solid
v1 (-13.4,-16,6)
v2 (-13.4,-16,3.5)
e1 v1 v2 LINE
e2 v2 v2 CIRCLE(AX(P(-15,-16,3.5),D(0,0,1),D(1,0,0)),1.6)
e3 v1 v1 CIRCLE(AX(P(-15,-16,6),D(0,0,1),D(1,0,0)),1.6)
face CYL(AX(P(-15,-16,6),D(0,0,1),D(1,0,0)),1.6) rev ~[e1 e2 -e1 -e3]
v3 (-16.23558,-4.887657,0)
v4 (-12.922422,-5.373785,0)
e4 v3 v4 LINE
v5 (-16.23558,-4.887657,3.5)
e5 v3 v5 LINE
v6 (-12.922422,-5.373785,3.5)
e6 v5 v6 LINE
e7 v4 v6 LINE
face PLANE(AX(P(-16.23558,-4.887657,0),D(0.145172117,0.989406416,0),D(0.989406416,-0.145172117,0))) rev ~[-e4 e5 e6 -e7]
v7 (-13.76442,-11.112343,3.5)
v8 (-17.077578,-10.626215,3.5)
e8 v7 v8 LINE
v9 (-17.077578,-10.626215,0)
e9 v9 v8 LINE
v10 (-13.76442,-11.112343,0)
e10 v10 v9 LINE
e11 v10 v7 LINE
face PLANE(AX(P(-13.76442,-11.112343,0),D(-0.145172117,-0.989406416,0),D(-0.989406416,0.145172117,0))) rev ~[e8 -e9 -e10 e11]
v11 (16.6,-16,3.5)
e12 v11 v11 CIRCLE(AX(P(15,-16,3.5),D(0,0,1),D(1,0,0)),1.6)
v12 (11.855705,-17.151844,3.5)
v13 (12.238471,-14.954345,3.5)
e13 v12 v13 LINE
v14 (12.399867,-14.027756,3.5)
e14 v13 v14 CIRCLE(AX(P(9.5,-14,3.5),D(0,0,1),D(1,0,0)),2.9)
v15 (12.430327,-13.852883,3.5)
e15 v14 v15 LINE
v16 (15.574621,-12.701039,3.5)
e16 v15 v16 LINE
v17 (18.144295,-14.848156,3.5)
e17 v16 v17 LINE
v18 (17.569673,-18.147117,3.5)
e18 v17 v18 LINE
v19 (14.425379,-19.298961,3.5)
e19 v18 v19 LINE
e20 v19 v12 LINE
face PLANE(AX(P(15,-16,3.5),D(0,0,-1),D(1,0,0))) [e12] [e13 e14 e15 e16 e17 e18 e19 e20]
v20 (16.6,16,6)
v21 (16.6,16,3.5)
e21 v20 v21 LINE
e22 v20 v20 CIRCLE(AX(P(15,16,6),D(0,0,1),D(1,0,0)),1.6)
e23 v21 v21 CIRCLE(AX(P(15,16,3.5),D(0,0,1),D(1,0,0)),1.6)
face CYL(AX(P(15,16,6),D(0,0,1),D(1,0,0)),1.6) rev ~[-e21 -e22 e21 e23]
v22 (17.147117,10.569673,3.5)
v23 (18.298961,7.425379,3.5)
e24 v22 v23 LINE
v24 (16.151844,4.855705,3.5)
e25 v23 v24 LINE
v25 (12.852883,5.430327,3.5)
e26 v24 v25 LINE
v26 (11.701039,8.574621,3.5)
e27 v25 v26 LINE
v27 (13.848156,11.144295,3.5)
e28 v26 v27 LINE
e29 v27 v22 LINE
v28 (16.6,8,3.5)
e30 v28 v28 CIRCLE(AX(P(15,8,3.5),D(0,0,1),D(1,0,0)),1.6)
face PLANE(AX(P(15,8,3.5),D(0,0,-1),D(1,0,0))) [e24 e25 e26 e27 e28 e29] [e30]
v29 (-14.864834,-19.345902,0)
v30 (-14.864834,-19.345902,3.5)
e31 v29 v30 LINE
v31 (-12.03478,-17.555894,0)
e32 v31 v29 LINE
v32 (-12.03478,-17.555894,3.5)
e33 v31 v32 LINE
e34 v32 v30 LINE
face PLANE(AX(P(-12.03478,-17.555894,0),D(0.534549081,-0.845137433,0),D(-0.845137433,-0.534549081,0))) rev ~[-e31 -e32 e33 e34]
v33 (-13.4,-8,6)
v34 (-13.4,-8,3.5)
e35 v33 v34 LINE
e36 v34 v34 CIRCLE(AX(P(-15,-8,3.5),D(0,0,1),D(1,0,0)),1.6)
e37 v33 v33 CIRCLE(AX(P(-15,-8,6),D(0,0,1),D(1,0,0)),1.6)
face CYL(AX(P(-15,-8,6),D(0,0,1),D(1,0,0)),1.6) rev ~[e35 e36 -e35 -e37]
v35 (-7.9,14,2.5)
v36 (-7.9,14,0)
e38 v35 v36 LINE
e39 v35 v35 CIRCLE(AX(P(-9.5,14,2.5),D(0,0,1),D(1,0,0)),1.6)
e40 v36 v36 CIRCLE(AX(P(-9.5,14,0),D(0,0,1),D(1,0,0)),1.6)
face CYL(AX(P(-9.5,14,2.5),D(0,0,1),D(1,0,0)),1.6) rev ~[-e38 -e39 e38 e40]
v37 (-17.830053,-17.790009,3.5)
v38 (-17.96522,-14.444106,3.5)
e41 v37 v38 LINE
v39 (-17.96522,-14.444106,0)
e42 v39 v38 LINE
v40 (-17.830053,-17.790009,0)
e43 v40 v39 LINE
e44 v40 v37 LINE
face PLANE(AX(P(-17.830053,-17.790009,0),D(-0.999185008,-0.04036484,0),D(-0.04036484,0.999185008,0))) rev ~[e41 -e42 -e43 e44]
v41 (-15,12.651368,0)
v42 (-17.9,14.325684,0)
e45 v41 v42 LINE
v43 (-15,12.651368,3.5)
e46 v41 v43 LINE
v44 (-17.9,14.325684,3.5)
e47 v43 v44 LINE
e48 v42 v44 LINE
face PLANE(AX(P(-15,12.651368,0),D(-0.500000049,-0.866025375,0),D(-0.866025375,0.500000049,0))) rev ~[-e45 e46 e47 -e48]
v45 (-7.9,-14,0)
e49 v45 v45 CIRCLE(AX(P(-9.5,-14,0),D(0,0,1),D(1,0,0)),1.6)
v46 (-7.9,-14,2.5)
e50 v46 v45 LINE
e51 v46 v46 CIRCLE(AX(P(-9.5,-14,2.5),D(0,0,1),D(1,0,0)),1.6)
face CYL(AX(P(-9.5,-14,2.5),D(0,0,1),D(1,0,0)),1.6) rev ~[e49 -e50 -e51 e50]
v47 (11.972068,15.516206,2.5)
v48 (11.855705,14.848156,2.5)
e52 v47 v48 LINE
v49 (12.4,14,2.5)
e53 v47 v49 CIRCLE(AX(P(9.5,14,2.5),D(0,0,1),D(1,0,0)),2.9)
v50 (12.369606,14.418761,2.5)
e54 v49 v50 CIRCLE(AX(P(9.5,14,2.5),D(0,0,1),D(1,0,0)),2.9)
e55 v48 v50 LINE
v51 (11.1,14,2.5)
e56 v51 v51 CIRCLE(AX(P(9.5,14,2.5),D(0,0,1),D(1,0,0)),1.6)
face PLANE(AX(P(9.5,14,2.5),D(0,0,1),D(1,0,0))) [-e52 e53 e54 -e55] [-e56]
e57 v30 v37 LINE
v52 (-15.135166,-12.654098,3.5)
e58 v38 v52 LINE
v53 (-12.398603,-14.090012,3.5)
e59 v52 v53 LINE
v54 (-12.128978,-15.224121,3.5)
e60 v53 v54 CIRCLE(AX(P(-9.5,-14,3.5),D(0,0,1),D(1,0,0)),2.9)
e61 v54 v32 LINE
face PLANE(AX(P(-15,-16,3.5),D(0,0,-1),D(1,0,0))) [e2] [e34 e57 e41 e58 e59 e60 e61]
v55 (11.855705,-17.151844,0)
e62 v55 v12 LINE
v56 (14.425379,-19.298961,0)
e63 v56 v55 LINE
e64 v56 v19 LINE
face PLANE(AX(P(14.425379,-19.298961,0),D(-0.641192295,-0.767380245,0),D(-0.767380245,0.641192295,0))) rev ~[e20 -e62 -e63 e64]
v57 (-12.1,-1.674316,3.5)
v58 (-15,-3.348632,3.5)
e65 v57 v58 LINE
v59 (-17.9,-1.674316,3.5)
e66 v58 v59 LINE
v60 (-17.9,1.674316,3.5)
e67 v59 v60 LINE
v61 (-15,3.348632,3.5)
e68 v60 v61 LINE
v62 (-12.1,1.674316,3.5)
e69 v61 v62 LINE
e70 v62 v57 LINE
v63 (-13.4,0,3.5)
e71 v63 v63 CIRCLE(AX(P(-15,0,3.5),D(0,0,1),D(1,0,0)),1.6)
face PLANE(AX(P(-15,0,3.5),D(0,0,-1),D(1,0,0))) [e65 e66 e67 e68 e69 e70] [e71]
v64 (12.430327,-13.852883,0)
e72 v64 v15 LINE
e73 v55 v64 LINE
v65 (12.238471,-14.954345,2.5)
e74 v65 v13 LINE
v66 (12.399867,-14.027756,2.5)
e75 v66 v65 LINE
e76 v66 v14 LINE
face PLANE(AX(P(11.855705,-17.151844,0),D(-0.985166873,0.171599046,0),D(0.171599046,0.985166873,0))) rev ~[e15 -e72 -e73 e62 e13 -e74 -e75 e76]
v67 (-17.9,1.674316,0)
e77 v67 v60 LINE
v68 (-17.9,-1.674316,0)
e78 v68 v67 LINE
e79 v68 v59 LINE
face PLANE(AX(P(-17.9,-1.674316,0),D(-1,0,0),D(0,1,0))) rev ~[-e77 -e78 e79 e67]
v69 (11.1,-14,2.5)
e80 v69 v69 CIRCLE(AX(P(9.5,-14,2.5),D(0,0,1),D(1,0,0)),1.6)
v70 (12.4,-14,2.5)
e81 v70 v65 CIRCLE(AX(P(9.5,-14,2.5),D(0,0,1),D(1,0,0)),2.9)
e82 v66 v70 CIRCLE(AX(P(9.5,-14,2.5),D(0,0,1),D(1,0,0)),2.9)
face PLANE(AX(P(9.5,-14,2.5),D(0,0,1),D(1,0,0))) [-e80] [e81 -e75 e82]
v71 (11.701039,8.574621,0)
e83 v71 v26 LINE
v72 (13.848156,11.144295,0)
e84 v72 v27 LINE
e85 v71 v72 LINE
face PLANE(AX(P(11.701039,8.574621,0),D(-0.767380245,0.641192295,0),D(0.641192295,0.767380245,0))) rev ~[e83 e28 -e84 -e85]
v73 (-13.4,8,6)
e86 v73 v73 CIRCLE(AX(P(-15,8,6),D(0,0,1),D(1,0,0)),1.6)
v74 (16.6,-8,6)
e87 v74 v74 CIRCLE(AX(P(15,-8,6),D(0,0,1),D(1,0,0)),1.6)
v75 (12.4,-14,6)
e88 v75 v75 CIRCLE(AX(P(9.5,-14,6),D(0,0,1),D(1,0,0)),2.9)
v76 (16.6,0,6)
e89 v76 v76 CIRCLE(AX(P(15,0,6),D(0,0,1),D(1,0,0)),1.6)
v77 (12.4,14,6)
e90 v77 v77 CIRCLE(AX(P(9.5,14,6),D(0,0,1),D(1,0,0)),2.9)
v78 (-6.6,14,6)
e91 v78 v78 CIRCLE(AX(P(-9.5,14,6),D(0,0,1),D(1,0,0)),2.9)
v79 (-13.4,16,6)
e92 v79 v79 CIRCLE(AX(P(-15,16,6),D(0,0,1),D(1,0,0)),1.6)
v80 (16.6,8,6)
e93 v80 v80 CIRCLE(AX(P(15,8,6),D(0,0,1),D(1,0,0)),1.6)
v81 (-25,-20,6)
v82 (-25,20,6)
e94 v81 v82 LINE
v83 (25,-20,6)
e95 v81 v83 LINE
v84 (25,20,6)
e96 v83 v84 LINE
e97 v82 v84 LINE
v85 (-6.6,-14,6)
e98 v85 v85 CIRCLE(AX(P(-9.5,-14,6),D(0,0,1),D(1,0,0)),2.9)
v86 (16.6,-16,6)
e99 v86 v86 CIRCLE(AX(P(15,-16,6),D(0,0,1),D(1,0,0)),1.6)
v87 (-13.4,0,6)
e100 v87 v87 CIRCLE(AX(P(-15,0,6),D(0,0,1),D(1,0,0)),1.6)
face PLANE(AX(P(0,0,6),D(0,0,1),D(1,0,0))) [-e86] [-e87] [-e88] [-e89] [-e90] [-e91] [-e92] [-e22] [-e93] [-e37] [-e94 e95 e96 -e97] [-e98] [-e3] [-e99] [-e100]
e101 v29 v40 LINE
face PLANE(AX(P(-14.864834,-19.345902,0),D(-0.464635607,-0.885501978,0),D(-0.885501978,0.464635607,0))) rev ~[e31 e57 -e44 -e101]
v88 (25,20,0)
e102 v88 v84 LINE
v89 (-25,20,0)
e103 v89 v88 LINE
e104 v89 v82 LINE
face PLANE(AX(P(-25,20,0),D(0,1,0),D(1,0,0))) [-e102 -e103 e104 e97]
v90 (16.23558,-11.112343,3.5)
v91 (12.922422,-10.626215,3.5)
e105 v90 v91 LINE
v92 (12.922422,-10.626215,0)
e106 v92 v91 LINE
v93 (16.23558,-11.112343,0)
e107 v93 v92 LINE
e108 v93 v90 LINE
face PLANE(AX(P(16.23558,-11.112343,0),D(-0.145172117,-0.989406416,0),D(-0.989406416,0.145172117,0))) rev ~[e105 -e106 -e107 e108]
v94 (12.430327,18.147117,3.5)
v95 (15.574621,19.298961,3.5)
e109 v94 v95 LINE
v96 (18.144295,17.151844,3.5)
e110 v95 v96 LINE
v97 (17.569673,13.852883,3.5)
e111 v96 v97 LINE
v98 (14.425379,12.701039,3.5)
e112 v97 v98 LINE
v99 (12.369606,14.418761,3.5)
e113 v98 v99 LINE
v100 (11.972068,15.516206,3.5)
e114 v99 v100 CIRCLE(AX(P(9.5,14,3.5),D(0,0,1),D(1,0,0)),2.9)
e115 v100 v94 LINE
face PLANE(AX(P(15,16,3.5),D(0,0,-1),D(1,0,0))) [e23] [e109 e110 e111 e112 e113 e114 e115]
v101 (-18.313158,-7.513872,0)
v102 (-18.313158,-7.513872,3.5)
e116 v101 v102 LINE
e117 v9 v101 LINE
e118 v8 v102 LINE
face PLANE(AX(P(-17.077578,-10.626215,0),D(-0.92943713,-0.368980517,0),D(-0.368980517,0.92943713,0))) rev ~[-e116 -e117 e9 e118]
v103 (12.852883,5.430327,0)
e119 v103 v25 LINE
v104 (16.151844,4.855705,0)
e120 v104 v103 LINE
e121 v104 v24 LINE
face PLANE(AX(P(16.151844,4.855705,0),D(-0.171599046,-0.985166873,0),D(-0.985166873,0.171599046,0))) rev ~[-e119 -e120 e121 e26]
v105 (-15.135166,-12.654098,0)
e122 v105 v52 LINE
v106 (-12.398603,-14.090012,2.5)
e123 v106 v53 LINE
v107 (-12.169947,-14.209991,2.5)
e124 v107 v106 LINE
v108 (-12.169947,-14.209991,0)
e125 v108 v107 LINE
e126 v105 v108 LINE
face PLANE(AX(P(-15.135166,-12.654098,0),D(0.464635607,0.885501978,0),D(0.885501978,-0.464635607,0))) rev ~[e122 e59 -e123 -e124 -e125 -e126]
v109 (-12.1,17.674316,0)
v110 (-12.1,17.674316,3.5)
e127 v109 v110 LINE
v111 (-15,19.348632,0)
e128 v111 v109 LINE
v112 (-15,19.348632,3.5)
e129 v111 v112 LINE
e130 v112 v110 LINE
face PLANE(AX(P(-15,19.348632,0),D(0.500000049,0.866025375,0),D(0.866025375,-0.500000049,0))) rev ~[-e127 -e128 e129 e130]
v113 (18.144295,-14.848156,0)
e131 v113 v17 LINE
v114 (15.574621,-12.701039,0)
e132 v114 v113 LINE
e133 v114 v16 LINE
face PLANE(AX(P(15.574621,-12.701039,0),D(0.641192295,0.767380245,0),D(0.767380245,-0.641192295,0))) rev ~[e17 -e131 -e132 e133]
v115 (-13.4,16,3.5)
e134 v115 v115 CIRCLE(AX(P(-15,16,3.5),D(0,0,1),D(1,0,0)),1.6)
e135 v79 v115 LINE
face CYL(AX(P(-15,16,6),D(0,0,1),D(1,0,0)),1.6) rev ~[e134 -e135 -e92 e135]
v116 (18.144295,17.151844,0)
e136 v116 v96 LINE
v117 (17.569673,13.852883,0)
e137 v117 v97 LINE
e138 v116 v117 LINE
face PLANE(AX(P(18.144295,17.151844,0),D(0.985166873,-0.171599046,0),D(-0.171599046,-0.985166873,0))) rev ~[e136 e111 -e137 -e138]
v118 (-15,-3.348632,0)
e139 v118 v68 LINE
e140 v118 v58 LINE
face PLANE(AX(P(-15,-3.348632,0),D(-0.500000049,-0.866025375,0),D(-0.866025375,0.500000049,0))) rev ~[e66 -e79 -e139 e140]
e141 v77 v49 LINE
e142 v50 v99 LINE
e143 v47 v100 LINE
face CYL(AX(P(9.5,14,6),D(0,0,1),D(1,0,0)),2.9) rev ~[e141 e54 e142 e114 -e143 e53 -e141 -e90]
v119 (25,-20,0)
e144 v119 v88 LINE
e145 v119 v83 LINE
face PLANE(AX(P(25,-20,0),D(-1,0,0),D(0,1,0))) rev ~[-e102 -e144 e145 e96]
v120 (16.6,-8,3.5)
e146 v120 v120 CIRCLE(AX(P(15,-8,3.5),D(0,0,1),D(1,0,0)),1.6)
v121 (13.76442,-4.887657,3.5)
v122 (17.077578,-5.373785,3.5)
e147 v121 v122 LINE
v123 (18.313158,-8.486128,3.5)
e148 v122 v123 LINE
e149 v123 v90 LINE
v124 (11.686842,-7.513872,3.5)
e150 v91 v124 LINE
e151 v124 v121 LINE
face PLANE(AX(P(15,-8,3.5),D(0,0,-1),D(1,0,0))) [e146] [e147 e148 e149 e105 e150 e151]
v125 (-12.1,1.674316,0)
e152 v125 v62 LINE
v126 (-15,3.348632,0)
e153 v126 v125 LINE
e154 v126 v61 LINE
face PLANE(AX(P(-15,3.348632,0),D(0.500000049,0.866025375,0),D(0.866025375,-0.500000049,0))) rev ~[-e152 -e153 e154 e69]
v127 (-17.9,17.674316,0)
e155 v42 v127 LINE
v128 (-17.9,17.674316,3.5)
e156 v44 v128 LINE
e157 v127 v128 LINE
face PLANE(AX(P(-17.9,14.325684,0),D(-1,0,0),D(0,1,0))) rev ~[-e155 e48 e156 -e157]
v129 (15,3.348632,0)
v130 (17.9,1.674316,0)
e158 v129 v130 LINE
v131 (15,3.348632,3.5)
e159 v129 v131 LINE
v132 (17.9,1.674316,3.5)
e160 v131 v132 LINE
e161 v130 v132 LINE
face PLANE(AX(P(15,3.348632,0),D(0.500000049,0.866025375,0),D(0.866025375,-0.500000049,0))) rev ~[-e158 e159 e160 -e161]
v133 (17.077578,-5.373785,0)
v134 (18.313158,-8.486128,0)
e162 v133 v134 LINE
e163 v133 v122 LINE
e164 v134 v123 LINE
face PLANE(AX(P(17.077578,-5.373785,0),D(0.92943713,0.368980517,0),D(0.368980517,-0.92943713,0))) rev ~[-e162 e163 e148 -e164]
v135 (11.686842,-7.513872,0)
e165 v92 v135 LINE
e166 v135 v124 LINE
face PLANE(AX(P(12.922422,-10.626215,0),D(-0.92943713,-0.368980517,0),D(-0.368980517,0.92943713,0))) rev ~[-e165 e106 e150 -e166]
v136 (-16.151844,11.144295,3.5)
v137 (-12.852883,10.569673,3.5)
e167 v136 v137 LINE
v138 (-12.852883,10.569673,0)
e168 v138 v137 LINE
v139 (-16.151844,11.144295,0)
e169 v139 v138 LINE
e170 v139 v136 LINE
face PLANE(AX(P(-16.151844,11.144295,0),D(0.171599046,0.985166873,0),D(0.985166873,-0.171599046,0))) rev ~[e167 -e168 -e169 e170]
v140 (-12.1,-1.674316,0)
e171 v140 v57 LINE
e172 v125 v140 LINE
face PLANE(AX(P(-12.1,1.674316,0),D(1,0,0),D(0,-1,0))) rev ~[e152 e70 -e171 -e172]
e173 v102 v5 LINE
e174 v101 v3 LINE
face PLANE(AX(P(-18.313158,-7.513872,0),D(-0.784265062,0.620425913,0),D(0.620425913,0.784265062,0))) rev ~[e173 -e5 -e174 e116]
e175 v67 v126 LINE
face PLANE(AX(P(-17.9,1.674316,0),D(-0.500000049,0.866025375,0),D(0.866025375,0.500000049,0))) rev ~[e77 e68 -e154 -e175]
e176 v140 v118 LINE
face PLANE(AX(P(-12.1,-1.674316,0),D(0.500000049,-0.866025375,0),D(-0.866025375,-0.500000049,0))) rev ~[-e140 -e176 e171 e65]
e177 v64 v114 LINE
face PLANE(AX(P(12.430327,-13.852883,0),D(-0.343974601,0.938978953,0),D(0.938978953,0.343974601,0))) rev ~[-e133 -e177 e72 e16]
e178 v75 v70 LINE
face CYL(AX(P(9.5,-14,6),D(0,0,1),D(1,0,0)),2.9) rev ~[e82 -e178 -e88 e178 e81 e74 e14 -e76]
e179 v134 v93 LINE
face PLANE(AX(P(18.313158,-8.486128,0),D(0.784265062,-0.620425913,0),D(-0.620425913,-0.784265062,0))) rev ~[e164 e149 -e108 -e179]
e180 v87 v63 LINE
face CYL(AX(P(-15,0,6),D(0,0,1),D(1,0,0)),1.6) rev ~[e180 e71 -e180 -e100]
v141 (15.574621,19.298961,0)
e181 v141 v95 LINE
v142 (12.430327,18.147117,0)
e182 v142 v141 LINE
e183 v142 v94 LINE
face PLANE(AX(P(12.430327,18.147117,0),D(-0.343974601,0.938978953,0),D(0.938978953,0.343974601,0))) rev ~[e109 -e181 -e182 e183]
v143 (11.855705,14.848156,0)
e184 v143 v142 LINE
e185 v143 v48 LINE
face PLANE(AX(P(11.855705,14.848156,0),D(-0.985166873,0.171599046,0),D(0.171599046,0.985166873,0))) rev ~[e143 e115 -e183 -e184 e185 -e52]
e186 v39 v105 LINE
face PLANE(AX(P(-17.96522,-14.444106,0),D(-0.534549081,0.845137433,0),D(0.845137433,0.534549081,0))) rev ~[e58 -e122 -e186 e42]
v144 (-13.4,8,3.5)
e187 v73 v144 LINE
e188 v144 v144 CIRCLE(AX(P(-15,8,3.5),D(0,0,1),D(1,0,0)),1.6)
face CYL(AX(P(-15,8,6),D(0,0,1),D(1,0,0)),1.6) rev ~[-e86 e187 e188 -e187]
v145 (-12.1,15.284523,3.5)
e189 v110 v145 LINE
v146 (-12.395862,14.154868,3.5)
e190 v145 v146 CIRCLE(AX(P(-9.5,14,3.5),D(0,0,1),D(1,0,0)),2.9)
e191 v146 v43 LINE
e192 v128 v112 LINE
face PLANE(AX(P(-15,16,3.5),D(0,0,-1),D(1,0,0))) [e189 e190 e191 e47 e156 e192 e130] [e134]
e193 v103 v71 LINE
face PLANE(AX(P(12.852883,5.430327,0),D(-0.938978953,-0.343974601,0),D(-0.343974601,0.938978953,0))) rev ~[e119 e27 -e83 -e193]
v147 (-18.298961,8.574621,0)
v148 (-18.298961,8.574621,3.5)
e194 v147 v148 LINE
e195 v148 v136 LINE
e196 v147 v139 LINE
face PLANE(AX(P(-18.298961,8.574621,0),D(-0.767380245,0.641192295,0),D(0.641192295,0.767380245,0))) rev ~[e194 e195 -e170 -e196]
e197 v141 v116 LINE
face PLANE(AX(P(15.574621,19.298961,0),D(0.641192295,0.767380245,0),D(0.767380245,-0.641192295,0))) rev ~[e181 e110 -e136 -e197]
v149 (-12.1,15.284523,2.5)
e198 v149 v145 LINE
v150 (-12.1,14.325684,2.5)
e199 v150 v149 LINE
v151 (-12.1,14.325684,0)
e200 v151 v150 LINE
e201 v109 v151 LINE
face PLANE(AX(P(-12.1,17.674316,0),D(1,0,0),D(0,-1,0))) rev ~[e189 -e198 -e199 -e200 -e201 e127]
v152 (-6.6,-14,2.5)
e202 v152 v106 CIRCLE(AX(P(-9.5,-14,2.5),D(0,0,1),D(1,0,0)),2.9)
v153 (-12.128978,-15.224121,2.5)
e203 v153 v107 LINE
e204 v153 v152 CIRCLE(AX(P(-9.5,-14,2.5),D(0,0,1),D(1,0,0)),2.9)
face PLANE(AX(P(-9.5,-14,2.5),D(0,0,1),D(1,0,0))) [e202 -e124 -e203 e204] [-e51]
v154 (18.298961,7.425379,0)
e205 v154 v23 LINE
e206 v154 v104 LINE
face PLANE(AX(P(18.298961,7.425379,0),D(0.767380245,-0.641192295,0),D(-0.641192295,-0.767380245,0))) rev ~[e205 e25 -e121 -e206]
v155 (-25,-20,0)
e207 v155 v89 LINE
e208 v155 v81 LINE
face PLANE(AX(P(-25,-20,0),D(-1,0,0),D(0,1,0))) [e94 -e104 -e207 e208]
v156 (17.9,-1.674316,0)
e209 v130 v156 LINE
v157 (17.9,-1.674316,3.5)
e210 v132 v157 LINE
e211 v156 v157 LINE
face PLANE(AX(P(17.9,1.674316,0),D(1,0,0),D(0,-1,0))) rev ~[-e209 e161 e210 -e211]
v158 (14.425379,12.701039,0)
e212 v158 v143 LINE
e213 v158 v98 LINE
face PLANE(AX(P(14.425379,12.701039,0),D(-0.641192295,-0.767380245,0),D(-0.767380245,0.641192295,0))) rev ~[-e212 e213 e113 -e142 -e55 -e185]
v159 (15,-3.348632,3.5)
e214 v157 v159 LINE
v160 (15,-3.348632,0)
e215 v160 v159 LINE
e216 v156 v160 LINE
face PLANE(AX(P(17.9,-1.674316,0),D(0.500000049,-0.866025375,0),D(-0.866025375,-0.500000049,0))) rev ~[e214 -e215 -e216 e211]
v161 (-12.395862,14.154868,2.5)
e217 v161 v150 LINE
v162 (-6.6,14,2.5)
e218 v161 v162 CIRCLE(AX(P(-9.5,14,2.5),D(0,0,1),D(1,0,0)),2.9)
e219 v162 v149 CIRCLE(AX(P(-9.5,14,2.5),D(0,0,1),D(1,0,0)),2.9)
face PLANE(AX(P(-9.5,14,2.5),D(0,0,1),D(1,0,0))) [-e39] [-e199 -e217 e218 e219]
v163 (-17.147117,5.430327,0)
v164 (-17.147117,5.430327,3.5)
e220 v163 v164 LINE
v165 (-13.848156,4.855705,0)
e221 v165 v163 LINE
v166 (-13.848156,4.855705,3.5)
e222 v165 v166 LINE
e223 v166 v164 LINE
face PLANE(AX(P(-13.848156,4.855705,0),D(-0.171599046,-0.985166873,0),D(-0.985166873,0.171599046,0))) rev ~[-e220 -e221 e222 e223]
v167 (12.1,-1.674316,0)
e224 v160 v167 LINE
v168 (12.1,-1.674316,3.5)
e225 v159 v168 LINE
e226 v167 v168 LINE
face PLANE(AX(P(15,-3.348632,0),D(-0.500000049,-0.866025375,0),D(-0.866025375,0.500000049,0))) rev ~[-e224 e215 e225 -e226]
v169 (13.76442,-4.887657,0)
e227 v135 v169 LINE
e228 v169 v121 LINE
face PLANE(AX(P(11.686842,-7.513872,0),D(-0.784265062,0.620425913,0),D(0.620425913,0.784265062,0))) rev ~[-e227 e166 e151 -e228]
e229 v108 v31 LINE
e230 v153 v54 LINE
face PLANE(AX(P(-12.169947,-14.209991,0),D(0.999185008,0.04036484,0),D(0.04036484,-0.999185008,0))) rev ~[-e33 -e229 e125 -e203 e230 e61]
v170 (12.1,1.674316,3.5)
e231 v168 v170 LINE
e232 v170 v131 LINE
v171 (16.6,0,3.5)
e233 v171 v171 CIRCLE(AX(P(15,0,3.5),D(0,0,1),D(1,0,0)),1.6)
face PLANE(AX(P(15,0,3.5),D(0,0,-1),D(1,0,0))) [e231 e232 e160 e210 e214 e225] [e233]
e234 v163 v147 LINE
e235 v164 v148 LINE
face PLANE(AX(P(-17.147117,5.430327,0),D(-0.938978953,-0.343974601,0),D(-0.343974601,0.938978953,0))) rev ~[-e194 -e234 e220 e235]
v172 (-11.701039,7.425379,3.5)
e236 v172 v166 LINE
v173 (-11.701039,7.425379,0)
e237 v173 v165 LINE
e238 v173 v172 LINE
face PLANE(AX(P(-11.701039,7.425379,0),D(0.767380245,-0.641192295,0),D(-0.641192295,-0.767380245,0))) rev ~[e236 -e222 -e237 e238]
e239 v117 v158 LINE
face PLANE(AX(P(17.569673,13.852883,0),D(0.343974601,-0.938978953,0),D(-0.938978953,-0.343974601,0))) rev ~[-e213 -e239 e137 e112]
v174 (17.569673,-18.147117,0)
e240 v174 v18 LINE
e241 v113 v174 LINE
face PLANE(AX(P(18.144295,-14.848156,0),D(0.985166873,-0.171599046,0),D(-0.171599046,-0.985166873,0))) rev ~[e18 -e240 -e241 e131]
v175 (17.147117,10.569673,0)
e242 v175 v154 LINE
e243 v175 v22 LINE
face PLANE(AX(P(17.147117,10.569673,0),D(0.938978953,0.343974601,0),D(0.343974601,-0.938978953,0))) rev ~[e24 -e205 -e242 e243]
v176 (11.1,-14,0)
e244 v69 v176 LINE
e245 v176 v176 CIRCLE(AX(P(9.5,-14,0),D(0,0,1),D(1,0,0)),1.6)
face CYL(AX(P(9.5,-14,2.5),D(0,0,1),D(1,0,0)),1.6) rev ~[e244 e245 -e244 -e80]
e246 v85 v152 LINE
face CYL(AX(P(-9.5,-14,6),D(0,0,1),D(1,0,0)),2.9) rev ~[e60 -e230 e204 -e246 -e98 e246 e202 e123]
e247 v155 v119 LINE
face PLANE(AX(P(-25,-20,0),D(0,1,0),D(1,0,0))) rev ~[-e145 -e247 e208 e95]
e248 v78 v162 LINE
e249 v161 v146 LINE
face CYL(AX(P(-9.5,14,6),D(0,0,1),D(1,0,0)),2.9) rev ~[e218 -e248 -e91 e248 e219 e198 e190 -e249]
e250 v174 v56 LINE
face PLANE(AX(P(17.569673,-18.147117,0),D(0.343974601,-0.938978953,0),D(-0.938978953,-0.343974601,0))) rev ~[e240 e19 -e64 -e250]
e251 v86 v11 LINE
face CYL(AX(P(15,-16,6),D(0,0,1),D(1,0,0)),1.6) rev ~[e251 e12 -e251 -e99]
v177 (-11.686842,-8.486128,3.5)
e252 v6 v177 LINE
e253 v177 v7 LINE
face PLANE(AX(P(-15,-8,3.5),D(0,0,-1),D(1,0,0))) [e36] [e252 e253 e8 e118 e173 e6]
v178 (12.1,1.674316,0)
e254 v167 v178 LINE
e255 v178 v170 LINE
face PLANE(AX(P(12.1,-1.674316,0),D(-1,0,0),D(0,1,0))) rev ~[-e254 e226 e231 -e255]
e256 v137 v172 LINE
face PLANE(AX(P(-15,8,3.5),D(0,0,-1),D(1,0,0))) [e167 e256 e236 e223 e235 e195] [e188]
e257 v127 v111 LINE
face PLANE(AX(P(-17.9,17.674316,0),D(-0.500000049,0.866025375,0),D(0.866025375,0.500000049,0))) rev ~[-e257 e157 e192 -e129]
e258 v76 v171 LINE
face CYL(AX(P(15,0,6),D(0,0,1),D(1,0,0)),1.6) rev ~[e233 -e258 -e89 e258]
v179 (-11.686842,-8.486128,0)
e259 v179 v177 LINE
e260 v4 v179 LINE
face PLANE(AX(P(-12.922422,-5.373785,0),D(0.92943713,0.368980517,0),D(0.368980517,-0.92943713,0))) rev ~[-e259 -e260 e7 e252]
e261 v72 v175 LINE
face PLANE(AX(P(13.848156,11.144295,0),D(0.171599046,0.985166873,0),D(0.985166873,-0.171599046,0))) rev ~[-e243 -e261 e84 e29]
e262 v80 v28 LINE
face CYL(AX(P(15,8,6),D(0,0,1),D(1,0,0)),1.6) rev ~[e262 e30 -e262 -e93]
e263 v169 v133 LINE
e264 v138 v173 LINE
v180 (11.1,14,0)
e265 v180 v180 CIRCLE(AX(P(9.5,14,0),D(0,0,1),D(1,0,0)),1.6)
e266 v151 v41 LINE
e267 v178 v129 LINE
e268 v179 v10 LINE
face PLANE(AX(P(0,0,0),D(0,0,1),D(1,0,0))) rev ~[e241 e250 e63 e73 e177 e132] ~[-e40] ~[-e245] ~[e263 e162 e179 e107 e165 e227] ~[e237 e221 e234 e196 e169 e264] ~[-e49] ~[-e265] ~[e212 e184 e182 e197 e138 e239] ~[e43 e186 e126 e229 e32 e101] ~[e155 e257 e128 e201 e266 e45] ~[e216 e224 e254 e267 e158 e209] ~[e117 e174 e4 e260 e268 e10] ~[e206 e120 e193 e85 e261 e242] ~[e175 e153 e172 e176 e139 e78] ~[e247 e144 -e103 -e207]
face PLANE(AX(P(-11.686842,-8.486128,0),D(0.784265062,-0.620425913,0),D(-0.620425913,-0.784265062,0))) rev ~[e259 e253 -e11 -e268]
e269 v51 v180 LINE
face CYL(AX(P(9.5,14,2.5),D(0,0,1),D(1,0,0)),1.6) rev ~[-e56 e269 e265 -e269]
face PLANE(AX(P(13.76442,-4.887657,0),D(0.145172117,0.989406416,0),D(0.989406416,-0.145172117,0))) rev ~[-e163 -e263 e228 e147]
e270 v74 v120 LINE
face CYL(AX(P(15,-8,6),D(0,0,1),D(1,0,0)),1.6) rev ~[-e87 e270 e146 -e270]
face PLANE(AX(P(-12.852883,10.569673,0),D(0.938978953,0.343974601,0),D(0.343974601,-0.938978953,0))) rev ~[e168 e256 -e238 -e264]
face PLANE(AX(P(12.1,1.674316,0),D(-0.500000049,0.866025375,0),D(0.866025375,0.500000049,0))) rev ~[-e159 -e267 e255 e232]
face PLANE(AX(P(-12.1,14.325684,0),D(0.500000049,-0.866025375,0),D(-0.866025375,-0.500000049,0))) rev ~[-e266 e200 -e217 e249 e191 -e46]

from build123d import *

# Parameters (mm, degrees)
F0_W     = 50
F0_H     = 40
F1_DEPTH = 6
F2_R     = 2.9
F3_DEPTH = 3.5
F4_R     = 1.6
F5_DEPTH = 25
F6_R     = 1.6
F7_DEPTH = 25
F9_DEPTH = 3.5


with BuildPart() as f1:
    # F0 (on Top) → F1 (new body)
    with BuildSketch(Plane.XY):
        Rectangle(F0_W, F0_H)
    extrude(amount=F1_DEPTH)

    # F2 (on face) → F3 (cut)
    with BuildSketch(Plane.XY.offset(6)):
        with Locations((-9.5, 14)):
            Circle(F2_R)
        with Locations((-9.5, -14)):
            Circle(F2_R)
        with Locations((9.5, 14)):
            Circle(F2_R)
        with Locations((9.5, -14)):
            Circle(F2_R)
    extrude(amount=-F3_DEPTH, mode=Mode.SUBTRACT)

    # F4 (on face) → F5 (cut)
    with BuildSketch(Plane.XY.offset(2.5)):
        with Locations((-9.5, 14)):
            Circle(F4_R)
        with Locations((-9.5, -14)):
            Circle(F4_R)
        with Locations((9.5, 14)):
            Circle(F4_R)
        with Locations((9.5, -14)):
            Circle(F4_R)
    extrude(amount=-F5_DEPTH, mode=Mode.SUBTRACT)

    # F6 (on face) → F7 (cut)
    with BuildSketch(Plane.XY.offset(6)):
        with Locations((-15, 0)):
            Circle(F6_R)
        with Locations((-15, 8)):
            Circle(F6_R)
        with Locations((-15, -8)):
            Circle(F6_R)
        with Locations((15, 0)):
            Circle(F6_R)
        with Locations((15, 8)):
            Circle(F6_R)
        with Locations((15, -8)):
            Circle(F6_R)
        with Locations((-15, -16)):
            Circle(F6_R)
        with Locations((15, 16)):
            Circle(F6_R)
        with Locations((-15, 16)):
            Circle(F6_R)
        with Locations((15, -16)):
            Circle(F6_R)
    extrude(amount=-F7_DEPTH, mode=Mode.SUBTRACT)

    # F8 (on face) → F9 (cut)
    with BuildSketch(Plane(origin=(0, 0, 0), x_dir=(1, 0, 0), z_dir=(0, 0, -1))):
        Polygon((-12.1, -1.674316), (-12.1, 1.674316), (-15, 3.348632), (-17.9, 1.674316), (-17.9, -1.674316), (-15, -3.348632), align=None)
        Polygon((-11.686842, 8.486128), (-13.76442, 11.112343), (-17.077578, 10.626215), (-18.313158, 7.513872), (-16.23558, 4.887657), (-12.922422, 5.373785), align=None)
        Polygon((-11.701039, -7.425379), (-13.848156, -4.855705), (-17.147117, -5.430327), (-18.298961, -8.574621), (-16.151844, -11.144295), (-12.852883, -10.569673), align=None)
        Polygon((17.9, -1.674316), (17.9, 1.674316), (15, 3.348632), (12.1, 1.674316), (12.1, -1.674316), (15, -3.348632), align=None)
        Polygon((18.313158, 8.486128), (16.23558, 11.112343), (12.922422, 10.626215), (11.686842, 7.513872), (13.76442, 4.887657), (17.077578, 5.373785), align=None)
        Polygon((18.298961, -7.425379), (16.151844, -4.855705), (12.852883, -5.430327), (11.701039, -8.574621), (13.848156, -11.144295), (17.147117, -10.569673), align=None)
        Polygon((-12.03478, 17.555894), (-14.864834, 19.345902), (-17.830053, 17.790009), (-17.96522, 14.444106), (-15.135166, 12.654098), (-12.169947, 14.209991), align=None)
        Polygon((-17.9, -14.325684), (-17.9, -17.674316), (-15, -19.348632), (-12.1, -17.674316), (-12.1, -14.325684), (-15, -12.651368), align=None)
        Polygon((18.144295, 14.848156), (17.569673, 18.147117), (14.425379, 19.298961), (11.855705, 17.151844), (12.430327, 13.852883), (15.574621, 12.701039), align=None)
        Polygon((18.144295, -17.151844), (17.569673, -13.852883), (14.425379, -12.701039), (11.855705, -14.848156), (12.430327, -18.147117), (15.574621, -19.298961), align=None)
    extrude(amount=-F9_DEPTH, mode=Mode.SUBTRACT)


solid = f1.part
